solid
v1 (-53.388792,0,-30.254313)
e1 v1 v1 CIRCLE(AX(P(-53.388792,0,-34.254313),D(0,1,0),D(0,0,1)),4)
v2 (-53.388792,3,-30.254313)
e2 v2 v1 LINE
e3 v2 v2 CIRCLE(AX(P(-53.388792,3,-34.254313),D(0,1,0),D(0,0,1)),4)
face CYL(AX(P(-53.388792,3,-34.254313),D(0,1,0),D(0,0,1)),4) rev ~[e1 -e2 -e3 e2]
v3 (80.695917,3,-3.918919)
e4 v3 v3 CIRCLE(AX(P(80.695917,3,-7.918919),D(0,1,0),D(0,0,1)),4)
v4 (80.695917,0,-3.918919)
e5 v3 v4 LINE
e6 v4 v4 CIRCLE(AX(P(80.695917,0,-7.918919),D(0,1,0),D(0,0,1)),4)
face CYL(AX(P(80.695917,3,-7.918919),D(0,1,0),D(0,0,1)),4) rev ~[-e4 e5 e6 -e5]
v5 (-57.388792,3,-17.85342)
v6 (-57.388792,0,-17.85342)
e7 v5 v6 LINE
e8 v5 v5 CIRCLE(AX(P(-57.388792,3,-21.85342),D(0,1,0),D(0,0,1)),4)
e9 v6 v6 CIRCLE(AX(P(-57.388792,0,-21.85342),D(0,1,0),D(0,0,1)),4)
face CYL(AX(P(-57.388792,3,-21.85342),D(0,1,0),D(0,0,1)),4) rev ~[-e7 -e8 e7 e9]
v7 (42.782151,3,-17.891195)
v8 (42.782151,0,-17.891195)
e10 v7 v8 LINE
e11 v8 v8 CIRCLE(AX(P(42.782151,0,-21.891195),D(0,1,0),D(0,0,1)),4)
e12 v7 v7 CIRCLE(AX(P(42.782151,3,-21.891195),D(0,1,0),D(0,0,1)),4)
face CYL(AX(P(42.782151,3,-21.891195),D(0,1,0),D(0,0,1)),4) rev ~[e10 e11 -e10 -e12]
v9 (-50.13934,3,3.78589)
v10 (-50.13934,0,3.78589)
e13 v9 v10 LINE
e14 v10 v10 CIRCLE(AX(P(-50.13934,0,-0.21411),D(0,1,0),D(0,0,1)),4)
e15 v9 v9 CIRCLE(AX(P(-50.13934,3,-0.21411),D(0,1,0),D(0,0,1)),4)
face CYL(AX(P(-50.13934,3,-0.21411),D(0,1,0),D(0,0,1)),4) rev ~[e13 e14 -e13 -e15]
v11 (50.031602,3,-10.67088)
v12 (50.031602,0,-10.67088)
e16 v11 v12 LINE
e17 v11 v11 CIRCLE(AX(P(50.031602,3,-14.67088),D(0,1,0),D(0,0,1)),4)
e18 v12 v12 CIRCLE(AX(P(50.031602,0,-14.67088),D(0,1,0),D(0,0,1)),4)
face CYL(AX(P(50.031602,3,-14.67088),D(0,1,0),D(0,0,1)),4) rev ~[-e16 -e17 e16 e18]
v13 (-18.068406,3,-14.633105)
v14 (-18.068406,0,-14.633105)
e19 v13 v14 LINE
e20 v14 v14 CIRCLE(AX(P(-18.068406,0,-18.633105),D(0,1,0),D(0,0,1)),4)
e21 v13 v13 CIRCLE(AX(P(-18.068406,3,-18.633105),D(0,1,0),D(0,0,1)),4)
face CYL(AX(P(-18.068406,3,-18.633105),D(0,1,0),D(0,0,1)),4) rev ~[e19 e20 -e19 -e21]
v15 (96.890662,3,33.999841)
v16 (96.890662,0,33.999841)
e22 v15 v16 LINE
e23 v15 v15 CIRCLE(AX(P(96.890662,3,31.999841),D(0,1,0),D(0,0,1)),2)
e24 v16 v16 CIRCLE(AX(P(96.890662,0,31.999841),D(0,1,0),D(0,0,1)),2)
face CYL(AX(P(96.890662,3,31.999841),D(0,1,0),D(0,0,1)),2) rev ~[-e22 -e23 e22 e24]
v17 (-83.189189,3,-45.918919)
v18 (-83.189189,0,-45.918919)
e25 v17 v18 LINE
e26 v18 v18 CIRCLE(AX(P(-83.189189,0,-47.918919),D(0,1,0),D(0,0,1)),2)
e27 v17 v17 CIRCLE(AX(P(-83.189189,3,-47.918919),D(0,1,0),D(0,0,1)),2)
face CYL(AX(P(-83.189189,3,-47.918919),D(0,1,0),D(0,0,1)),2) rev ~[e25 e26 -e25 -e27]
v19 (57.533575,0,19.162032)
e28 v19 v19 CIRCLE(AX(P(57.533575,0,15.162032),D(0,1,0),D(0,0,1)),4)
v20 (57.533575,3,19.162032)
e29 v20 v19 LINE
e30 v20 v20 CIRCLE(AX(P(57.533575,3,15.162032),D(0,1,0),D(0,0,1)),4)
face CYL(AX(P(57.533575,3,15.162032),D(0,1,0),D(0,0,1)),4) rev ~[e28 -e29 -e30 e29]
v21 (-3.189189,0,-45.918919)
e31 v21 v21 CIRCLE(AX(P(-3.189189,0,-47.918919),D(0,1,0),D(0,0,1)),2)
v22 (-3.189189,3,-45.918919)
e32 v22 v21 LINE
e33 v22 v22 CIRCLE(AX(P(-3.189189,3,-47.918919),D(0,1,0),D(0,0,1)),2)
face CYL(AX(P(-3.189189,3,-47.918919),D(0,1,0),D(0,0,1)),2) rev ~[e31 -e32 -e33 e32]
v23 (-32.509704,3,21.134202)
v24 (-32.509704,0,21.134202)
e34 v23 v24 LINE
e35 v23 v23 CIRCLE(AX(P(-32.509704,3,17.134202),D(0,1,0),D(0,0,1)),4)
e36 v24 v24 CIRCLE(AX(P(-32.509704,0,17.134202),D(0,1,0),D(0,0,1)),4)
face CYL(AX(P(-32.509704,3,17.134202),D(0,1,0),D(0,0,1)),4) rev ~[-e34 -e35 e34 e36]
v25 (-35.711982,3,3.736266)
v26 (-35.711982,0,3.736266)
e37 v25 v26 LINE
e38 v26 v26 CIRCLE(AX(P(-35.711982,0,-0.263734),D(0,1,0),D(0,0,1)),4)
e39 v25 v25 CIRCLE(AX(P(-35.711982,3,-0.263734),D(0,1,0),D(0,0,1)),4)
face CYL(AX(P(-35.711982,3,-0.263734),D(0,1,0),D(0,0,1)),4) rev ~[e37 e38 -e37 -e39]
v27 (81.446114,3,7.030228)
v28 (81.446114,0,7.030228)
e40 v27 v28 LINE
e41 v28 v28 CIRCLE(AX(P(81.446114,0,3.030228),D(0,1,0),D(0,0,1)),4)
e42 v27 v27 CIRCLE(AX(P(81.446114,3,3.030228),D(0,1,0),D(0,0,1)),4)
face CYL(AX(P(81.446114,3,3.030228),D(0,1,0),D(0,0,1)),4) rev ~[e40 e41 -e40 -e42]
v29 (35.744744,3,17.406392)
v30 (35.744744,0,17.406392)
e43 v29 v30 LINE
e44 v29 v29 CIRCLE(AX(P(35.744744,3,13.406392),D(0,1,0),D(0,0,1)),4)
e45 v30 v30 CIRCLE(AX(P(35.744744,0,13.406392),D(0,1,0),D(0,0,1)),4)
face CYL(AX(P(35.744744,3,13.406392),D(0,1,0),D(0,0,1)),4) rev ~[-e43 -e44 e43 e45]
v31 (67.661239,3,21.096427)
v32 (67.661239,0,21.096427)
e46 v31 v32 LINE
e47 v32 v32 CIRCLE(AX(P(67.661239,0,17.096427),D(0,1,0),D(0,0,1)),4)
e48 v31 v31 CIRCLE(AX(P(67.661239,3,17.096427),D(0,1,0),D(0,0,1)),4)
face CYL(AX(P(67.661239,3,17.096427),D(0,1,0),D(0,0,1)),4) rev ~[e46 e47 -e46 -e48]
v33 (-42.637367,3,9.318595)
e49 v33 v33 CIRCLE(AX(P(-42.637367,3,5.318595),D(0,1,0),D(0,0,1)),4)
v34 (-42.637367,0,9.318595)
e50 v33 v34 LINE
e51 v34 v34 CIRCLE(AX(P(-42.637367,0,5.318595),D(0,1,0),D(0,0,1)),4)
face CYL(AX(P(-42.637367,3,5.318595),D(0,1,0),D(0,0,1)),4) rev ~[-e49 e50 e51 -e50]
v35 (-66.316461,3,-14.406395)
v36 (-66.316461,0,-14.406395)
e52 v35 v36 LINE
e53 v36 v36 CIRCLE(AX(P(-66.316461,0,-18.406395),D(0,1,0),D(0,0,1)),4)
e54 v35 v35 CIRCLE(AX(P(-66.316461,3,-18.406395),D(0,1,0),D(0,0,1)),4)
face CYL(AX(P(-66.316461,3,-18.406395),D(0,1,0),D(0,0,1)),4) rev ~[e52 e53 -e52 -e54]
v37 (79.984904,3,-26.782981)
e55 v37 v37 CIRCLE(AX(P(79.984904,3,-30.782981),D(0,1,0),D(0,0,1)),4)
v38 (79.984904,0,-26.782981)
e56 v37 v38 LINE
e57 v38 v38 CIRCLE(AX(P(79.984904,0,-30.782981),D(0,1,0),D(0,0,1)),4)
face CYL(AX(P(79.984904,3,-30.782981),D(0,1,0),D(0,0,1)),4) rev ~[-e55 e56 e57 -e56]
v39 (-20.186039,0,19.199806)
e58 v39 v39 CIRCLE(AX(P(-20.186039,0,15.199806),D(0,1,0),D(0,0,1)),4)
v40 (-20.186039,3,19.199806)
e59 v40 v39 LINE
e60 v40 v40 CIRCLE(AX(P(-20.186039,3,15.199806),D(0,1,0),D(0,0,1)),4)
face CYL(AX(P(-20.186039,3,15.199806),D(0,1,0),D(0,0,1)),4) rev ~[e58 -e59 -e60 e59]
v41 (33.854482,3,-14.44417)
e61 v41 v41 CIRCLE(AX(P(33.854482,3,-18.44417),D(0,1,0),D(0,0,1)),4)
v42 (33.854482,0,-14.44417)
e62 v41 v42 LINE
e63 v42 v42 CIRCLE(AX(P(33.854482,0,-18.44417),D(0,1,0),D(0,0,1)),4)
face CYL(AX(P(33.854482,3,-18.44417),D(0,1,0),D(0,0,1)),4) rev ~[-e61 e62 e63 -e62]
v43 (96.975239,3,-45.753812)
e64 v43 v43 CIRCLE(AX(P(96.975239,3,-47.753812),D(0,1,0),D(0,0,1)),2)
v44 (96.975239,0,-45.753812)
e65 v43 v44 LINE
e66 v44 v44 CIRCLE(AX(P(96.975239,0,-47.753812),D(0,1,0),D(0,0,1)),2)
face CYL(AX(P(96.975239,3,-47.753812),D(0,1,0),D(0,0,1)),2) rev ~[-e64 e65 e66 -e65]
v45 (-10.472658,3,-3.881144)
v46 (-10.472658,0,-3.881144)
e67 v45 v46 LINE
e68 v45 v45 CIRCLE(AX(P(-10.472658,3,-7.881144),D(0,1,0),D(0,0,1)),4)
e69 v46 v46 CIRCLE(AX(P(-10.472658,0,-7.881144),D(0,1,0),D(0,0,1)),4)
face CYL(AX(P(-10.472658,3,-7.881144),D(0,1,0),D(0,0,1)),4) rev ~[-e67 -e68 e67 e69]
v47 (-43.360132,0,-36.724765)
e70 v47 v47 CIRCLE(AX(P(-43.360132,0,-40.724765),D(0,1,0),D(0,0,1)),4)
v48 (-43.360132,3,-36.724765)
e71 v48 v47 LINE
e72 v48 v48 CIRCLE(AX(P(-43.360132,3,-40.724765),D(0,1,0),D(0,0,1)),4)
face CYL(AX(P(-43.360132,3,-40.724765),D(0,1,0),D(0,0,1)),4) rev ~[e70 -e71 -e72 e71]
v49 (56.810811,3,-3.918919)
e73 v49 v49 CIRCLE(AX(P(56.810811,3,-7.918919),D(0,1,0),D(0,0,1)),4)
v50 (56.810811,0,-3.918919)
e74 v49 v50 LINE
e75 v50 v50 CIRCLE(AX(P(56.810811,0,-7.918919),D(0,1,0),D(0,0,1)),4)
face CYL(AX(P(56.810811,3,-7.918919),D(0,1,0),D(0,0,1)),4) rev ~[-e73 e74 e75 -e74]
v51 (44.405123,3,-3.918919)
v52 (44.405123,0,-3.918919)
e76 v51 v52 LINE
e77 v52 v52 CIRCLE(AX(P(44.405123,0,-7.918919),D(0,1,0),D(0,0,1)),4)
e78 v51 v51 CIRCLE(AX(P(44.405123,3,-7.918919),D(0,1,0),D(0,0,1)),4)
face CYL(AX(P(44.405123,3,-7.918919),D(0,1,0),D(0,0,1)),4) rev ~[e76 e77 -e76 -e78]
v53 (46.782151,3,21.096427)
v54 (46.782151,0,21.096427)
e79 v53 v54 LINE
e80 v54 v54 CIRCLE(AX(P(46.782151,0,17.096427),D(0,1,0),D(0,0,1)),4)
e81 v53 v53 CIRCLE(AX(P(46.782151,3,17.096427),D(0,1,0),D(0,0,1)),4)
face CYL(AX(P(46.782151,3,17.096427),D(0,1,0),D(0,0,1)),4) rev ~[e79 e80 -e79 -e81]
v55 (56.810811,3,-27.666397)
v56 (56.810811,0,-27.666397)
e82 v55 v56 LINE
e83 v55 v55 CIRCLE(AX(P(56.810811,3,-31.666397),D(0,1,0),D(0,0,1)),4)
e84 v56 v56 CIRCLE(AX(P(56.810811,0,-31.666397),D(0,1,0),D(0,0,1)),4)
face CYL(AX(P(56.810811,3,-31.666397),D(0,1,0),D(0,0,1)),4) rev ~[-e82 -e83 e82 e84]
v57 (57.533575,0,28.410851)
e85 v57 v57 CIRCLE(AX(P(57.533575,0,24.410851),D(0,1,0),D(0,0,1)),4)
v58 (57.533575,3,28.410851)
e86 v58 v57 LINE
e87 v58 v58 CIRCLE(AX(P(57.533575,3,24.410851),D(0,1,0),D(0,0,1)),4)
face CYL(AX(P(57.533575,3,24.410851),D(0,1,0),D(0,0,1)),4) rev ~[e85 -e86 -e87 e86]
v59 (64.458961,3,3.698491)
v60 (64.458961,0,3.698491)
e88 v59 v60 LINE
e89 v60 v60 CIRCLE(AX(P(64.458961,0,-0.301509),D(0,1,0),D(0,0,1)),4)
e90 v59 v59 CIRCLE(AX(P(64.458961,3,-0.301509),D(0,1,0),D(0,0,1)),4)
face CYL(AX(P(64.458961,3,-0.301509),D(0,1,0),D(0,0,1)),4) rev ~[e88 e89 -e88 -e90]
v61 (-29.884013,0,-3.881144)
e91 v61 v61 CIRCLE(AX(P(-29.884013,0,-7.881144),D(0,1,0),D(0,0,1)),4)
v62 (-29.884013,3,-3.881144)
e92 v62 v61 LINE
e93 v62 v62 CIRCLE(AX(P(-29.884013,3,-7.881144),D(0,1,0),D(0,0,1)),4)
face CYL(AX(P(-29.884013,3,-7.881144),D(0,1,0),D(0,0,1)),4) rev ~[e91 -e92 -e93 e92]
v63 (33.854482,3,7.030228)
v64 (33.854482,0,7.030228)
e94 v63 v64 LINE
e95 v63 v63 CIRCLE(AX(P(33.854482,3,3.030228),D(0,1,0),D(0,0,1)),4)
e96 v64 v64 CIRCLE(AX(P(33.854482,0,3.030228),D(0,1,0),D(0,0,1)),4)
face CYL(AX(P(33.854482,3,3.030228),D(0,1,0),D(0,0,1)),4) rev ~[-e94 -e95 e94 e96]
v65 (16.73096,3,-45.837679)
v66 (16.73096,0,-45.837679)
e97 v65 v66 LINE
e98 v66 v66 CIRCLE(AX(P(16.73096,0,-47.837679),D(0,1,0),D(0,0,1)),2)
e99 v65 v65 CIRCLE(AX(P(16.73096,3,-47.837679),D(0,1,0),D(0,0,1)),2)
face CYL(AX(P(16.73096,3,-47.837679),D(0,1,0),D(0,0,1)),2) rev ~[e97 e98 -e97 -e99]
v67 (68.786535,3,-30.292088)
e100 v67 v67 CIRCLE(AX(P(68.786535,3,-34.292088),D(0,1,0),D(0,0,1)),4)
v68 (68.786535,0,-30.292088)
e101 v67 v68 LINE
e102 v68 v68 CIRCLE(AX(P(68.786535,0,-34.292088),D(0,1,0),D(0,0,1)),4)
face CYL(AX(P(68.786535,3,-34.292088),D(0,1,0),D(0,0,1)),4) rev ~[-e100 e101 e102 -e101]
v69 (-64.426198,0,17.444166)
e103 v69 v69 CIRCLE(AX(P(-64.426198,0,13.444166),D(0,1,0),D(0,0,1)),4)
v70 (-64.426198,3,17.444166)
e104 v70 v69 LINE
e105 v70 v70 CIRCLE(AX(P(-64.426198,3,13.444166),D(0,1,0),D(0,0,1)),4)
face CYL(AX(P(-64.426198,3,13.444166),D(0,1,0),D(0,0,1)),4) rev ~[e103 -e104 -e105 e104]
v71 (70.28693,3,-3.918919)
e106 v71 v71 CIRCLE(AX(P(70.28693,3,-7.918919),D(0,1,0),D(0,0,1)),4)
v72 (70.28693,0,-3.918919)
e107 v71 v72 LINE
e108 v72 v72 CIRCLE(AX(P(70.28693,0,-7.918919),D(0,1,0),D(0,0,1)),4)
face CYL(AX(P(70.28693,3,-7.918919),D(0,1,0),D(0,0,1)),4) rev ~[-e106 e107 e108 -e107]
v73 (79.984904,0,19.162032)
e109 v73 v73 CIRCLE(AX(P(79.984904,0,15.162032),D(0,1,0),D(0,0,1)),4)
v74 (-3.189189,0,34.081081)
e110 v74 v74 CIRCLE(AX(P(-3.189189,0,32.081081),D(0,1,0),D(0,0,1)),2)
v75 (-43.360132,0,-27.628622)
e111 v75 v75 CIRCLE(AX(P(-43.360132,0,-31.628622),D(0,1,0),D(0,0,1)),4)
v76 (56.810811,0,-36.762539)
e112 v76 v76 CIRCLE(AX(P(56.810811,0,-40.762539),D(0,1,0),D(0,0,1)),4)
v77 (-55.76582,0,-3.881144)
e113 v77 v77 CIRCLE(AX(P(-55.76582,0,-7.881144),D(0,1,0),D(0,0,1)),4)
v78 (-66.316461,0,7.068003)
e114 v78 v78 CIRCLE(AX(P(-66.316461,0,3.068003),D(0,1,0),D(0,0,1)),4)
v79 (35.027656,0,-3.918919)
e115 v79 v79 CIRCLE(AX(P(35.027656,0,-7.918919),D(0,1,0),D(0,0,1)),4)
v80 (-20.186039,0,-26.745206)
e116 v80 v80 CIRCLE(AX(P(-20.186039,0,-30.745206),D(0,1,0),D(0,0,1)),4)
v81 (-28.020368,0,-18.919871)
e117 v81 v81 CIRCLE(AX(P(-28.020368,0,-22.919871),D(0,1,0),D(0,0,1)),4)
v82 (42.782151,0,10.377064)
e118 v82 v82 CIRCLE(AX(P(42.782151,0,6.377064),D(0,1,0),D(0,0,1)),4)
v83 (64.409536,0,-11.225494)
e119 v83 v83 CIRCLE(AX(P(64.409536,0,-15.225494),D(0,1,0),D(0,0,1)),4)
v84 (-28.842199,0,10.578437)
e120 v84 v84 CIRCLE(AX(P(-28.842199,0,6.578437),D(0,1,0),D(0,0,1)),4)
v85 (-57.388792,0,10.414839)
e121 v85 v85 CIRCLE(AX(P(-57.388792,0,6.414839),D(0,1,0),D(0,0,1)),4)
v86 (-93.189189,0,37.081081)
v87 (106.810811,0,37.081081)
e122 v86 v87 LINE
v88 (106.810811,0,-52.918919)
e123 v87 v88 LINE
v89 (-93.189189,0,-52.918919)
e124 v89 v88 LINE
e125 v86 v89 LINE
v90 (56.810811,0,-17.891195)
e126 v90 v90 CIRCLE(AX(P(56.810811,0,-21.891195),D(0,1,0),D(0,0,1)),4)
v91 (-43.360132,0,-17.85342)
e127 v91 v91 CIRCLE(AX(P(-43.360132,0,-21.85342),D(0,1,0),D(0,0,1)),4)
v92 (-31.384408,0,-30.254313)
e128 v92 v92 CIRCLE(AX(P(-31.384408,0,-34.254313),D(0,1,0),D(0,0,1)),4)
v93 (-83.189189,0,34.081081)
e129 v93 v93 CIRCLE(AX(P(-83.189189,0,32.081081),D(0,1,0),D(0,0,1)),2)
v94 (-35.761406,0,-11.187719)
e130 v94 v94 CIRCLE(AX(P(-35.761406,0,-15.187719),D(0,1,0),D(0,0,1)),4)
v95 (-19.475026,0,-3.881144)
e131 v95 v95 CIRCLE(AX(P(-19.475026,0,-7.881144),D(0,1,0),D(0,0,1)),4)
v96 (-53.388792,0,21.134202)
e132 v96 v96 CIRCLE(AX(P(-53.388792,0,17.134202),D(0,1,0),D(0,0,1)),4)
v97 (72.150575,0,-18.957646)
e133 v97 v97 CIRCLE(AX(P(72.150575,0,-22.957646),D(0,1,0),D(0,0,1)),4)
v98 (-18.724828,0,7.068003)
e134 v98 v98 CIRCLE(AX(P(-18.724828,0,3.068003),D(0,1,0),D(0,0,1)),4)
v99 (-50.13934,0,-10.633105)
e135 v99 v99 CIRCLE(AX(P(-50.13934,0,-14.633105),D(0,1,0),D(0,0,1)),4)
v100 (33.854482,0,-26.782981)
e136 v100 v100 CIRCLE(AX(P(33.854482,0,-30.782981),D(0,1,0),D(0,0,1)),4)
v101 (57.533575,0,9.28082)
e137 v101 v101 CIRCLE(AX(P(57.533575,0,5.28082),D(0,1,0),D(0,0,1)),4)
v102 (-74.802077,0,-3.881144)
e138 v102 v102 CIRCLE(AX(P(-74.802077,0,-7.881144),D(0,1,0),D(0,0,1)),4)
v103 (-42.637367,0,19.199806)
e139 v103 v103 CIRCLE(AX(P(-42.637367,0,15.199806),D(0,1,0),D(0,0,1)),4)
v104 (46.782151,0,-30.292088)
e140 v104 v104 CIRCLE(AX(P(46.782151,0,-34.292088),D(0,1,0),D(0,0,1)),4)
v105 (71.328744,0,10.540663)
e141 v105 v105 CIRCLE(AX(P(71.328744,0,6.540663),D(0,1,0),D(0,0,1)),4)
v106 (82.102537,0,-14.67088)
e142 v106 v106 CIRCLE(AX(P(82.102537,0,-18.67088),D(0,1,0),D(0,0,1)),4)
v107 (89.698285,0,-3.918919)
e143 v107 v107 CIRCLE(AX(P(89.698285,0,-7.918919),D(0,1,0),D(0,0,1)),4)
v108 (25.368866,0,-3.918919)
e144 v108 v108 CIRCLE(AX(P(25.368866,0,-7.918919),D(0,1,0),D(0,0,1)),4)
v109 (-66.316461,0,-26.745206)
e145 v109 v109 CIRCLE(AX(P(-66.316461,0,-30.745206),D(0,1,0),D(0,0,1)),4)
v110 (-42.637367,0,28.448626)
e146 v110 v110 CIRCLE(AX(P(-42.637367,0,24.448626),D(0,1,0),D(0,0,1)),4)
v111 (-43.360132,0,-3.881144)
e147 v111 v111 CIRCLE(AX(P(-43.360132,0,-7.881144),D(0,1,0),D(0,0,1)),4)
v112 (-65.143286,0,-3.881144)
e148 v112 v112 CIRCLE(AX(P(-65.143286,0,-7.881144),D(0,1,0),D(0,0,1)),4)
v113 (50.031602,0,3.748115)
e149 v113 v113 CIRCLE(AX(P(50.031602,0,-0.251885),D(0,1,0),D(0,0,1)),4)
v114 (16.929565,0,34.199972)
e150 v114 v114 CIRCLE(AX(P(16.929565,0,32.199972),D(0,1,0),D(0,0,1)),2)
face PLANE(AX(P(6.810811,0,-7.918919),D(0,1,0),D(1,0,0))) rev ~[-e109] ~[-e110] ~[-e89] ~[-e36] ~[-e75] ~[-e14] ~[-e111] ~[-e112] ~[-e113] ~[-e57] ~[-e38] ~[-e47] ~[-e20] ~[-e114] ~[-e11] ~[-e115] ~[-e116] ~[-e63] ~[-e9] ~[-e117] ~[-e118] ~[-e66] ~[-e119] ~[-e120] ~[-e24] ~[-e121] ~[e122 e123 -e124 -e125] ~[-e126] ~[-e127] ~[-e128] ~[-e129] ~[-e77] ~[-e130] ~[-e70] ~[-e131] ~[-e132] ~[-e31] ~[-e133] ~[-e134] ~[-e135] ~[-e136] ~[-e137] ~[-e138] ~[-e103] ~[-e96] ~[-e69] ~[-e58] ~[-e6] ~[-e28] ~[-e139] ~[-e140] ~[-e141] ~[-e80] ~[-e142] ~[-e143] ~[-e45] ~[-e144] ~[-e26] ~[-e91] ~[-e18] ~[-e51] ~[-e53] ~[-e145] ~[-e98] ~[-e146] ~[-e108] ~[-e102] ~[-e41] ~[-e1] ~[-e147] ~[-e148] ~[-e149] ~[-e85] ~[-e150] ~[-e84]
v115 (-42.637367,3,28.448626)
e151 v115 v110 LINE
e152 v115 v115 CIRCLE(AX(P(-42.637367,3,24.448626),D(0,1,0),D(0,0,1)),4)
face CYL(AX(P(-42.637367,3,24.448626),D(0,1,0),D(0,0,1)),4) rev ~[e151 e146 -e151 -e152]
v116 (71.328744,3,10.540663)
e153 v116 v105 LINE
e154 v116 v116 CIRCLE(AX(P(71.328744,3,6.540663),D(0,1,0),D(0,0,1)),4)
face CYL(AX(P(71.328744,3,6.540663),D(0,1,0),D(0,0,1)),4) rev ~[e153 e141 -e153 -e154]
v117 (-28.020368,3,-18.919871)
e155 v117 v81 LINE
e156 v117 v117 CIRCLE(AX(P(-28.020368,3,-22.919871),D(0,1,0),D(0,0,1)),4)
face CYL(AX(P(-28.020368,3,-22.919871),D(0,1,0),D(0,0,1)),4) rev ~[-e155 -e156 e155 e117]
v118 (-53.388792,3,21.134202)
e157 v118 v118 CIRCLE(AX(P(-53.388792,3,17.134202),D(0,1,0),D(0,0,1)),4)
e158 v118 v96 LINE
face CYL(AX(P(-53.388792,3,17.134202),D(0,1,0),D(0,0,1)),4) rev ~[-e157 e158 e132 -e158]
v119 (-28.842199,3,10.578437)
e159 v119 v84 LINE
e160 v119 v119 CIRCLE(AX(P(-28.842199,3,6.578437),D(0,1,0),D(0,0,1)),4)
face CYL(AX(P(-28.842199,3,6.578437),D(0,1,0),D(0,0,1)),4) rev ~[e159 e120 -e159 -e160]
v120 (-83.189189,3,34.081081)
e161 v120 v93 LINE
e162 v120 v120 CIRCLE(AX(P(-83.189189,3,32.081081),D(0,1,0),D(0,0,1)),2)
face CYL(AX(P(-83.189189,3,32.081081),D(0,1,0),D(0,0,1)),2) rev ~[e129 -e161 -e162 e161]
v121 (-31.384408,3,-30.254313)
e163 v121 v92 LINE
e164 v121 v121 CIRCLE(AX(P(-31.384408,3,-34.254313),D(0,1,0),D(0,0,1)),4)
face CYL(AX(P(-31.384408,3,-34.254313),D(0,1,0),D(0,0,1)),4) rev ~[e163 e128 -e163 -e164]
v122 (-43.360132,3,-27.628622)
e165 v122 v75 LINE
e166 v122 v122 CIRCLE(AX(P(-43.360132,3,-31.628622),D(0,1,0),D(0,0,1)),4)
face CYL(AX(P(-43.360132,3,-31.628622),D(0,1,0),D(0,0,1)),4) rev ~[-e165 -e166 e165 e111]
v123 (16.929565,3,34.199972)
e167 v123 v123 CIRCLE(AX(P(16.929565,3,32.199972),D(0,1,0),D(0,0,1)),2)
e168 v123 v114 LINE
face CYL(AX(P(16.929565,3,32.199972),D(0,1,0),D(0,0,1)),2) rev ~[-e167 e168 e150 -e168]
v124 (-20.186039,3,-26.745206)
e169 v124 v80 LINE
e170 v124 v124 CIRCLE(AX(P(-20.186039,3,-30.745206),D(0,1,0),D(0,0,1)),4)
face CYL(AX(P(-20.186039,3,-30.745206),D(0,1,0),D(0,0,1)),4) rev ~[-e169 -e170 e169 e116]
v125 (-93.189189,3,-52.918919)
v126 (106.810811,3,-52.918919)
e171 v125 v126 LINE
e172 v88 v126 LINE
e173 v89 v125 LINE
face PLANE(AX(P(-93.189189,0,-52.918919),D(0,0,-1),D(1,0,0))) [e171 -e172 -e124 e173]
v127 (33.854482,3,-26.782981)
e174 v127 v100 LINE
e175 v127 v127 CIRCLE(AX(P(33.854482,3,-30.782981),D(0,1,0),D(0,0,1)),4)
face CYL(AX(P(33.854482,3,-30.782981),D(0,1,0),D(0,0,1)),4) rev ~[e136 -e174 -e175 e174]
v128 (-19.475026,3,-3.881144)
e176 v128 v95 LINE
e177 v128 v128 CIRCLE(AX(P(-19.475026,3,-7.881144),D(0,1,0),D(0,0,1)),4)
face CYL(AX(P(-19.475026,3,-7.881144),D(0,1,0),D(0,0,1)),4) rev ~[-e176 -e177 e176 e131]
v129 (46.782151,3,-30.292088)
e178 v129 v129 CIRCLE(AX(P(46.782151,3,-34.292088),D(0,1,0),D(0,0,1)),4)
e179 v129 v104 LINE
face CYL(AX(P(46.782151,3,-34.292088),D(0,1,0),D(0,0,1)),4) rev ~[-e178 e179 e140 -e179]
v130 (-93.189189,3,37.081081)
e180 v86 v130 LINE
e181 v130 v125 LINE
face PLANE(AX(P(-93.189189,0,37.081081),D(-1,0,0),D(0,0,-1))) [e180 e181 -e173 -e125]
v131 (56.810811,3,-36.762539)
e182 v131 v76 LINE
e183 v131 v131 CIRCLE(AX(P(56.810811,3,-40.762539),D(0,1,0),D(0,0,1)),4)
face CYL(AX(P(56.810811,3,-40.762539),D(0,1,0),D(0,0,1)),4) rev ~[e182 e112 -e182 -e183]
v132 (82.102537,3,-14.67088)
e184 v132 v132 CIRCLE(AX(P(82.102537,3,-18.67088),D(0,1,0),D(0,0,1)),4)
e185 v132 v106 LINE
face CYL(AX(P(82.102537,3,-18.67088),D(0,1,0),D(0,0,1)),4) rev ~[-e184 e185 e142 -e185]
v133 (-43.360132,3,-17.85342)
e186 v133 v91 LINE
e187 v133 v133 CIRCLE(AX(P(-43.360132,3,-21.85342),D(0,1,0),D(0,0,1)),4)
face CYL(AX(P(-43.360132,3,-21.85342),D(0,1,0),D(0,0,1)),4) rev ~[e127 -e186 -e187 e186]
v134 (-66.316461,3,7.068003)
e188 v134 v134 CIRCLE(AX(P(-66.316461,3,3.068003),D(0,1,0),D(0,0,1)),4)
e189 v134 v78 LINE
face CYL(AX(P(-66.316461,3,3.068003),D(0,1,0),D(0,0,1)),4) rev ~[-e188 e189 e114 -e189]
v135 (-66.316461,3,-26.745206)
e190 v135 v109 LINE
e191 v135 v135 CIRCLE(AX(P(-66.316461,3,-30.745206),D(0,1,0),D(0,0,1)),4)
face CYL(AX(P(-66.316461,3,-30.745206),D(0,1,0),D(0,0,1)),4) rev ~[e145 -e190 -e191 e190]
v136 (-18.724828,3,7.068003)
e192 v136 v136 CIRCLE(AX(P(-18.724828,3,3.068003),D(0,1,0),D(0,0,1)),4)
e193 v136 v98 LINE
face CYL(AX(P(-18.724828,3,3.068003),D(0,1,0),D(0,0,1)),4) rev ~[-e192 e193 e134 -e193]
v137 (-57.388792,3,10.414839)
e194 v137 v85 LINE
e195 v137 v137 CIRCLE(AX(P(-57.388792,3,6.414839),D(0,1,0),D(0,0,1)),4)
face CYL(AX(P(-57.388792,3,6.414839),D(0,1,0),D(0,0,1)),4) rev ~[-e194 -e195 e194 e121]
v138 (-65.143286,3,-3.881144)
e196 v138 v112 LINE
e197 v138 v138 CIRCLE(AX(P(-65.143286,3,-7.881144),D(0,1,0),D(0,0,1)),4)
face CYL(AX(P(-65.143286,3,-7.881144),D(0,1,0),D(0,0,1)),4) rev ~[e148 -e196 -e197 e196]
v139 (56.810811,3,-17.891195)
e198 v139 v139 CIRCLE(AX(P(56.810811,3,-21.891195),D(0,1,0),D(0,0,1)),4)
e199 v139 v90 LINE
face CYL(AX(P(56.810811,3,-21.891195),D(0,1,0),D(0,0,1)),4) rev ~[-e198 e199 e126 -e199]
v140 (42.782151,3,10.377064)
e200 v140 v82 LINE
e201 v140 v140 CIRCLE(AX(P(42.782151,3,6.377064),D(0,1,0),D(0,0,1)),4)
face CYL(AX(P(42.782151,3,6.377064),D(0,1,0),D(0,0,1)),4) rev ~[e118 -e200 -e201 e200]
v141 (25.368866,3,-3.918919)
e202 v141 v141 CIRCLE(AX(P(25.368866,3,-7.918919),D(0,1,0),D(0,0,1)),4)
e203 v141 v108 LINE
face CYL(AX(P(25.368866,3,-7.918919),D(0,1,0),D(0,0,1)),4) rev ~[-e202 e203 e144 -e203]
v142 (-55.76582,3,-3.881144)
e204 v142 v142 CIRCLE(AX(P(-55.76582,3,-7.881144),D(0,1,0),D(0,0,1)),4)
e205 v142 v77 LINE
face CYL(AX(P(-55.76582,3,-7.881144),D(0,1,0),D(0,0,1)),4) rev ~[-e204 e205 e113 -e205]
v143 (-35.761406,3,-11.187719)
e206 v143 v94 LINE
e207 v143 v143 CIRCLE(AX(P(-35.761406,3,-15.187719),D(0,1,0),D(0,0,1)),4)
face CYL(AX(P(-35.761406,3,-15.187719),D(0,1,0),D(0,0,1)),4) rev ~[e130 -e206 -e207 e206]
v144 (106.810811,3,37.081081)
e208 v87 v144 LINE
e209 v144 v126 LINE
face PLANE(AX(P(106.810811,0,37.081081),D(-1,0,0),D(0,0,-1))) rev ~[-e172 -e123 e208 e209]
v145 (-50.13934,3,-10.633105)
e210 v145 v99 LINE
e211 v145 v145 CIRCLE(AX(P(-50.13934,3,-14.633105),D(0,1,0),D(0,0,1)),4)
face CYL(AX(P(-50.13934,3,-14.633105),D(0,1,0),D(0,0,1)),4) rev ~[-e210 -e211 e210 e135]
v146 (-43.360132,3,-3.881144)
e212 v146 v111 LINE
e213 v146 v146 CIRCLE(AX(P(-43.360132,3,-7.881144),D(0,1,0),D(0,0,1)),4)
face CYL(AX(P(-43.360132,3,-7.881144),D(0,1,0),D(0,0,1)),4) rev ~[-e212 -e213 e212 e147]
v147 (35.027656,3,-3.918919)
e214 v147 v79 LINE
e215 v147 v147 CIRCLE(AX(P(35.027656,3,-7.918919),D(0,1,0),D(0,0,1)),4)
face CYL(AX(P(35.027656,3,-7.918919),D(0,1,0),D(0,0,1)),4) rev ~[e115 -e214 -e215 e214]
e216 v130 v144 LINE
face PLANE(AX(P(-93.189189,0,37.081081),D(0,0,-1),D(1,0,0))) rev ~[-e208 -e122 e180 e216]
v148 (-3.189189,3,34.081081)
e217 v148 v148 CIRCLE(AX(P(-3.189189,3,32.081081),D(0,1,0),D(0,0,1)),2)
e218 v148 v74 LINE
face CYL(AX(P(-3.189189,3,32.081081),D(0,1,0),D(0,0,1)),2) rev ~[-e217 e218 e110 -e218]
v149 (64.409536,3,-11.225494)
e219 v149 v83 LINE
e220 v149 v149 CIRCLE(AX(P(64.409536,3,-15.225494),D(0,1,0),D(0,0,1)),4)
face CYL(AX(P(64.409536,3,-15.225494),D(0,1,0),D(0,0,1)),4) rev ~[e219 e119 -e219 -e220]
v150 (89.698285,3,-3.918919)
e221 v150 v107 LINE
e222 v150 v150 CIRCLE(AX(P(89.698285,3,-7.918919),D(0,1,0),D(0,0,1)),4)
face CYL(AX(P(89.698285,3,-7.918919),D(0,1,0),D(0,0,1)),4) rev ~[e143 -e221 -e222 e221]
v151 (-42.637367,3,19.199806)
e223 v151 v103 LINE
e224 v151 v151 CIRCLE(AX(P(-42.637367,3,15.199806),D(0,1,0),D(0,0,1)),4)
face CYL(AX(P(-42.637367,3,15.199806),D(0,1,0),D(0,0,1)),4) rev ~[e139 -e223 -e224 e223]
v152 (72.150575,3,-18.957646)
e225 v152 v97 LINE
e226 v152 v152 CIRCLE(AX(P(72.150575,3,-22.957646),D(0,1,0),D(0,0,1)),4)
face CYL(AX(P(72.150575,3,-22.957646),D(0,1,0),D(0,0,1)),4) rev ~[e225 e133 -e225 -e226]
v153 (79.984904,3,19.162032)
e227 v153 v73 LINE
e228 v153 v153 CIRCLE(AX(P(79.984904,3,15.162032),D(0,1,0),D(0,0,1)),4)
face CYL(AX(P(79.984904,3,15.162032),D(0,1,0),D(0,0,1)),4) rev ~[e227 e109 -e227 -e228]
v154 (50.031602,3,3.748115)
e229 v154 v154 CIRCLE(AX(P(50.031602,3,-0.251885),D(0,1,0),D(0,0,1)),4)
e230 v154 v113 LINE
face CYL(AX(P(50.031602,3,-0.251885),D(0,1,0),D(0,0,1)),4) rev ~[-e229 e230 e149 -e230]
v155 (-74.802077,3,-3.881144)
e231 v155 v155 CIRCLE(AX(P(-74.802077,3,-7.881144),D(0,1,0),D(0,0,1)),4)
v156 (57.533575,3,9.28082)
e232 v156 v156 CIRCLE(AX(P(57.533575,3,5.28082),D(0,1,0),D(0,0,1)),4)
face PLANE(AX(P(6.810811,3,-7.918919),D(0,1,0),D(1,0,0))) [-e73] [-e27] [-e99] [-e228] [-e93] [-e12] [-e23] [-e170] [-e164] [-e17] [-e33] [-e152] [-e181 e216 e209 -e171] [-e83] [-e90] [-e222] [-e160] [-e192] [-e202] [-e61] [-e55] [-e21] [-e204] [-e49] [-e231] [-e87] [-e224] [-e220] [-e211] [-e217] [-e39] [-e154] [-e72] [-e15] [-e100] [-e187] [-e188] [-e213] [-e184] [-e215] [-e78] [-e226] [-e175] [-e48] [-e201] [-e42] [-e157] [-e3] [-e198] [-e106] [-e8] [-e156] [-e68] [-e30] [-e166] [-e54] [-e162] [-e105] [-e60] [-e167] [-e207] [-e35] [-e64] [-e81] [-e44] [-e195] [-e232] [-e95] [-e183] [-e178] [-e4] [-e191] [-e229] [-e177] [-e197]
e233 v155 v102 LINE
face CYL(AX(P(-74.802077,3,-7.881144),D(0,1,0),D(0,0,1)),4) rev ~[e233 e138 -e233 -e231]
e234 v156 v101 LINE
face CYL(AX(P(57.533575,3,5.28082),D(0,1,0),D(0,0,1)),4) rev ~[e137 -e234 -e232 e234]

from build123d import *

# Parameters (mm, degrees)
SKETCH1_W           = 200
SKETCH1_H           = 90
BOSS_EXTRUDE1_DEPTH = 3
SKETCH2_R           = 2
SKETCH2_R_2         = 4
CUT_EXTRUDE1_DEPTH  = 3


with BuildPart() as part:
    # Sketch1 → Boss-Extrude1 (new body)
    with BuildSketch(Plane(origin=(0, 0, 0), x_dir=(1, 0, 0), z_dir=(0, 1, 0))):
        with Locations((6.810810811, 7.918918919)):
            Rectangle(SKETCH1_W, SKETCH1_H)
    extrude(amount=BOSS_EXTRUDE1_DEPTH)

    # Sketch2 → Cut-Extrude1 (cut)
    with BuildSketch(Plane(origin=(0, 3, 0), x_dir=(1, 0, 0), z_dir=(0, 1, 0))):
        with Locations(Location((-83.189189189, 47.918918919, 0), (0, 0, 270))):
            Circle(SKETCH2_R)
        with Locations(Location((-83.189189189, -32.081081081, 0), (0, 0, 270))):
            Circle(SKETCH2_R)
        with Locations(Location((-3.189189189, 47.918918919, 0), (0, 0, 270))):
            Circle(SKETCH2_R)
        with Locations(Location((-3.189189189, -32.081081081, 0), (0, 0, 270))):
            Circle(SKETCH2_R)
        with Locations(Location((96.97523931, 47.753811706, 0), (0, 0, 270))):
            Circle(SKETCH2_R)
        with Locations(Location((96.890661701, -31.999841307, 0), (0, 0, 270))):
            Circle(SKETCH2_R)
        with Locations(Location((16.73095992, 47.837679145, 0), (0, 0, 270))):
            Circle(SKETCH2_R)
        with Locations(Location((16.92956487, -32.199971625, 0), (0, 0, 270))):
            Circle(SKETCH2_R)
        with Locations(Location((64.409536285, 15.225493569, 0), (0, 0, 270))):
            Circle(SKETCH2_R_2)
        with Locations(Location((64.458960542, 0.301508961, 0), (0, 0, 270))):
            Circle(SKETCH2_R_2)
        with Locations(Location((72.150575188, 22.957645887, 0), (0, 0, 270))):
            Circle(SKETCH2_R_2)
        with Locations(Location((79.984903702, 30.782980722, 0), (0, 0, 270))):
            Circle(SKETCH2_R_2)
        with Locations(Location((42.782150533, -6.377064303, 0), (0, 0, 270))):
            Circle(SKETCH2_R_2)
        with Locations(Location((35.744744462, -13.406391548, 0), (0, 0, 270))):
            Circle(SKETCH2_R_2)
        with Locations(Location((50.031602385, 0.251885254, 0), (0, 0, 270))):
            Circle(SKETCH2_R_2)
        with Locations(Location((71.328743505, -6.540662674, 0), (0, 0, 270))):
            Circle(SKETCH2_R_2)
        with Locations(Location((56.810810811, 7.918918919, 0), (0, 0, 270))):
            Circle(SKETCH2_R_2)
        with Locations(Location((79.984903702, -15.162031659, 0), (0, 0, 270))):
            Circle(SKETCH2_R_2)
        with Locations(Location((50.031602385, 14.670880058, 0), (0, 0, 270))):
            Circle(SKETCH2_R_2)
        with Locations(Location((42.782150533, 21.891194601, 0), (0, 0, 270))):
            Circle(SKETCH2_R_2)
        with Locations(Location((33.854481941, 30.782980722, 0), (0, 0, 270))):
            Circle(SKETCH2_R_2)
        with Locations(Location((70.286929504, 7.918918919, 0), (0, 0, 270))):
            Circle(SKETCH2_R_2)
        with Locations(Location((80.695917052, 7.918918919, 0), (0, 0, 270))):
            Circle(SKETCH2_R_2)
        with Locations(Location((89.69828466, 7.918918919, 0), (0, 0, 270))):
            Circle(SKETCH2_R_2)
        with Locations(Location((35.027656371, 7.918918919, 0), (0, 0, 270))):
            Circle(SKETCH2_R_2)
        with Locations(Location((44.40512263, 7.918918919, 0), (0, 0, 270))):
            Circle(SKETCH2_R_2)
        with Locations(Location((25.368866125, 7.918918919, 0), (0, 0, 270))):
            Circle(SKETCH2_R_2)
        with Locations(Location((57.533575392, -5.280819839, 0), (0, 0, 270))):
            Circle(SKETCH2_R_2)
        with Locations(Location((57.533575392, -15.162031659, 0), (0, 0, 270))):
            Circle(SKETCH2_R_2)
        with Locations(Location((57.533575392, -24.410851007, 0), (0, 0, 270))):
            Circle(SKETCH2_R_2)
        with Locations(Location((56.810810811, 21.891194601, 0), (0, 0, 270))):
            Circle(SKETCH2_R_2)
        with Locations(Location((56.810810811, 31.666397221, 0), (0, 0, 270))):
            Circle(SKETCH2_R_2)
        with Locations(Location((56.810810811, 40.762539492, 0), (0, 0, 270))):
            Circle(SKETCH2_R_2)
        with Locations(Location((33.854481941, 18.444169796, 0), (0, 0, 270))):
            Circle(SKETCH2_R_2)
        with Locations(Location((46.782150533, 34.292087773, 0), (0, 0, 270))):
            Circle(SKETCH2_R_2)
        with Locations(Location((68.786534903, 34.292087773, 0), (0, 0, 270))):
            Circle(SKETCH2_R_2)
        with Locations(Location((82.102536991, 18.670880058, 0), (0, 0, 270))):
            Circle(SKETCH2_R_2)
        with Locations(Location((81.446114352, -3.030227937, 0), (0, 0, 270))):
            Circle(SKETCH2_R_2)
        with Locations(Location((67.661238952, -17.096427325, 0), (0, 0, 270))):
            Circle(SKETCH2_R_2)
        with Locations(Location((46.782150533, -17.096427325, 0), (0, 0, 270))):
            Circle(SKETCH2_R_2)
        with Locations(Location((33.854481941, -3.030227937, 0), (0, 0, 270))):
            Circle(SKETCH2_R_2)
        with Locations(Location((-35.761406417, 15.18771879, 0), (0, 0, 270))):
            Circle(SKETCH2_R_2)
        with Locations(Location((-35.71198216, 0.263734182, 0), (0, 0, 270))):
            Circle(SKETCH2_R_2)
        with Locations(Location((-28.020367515, 22.919871108, 0), (0, 0, 270))):
            Circle(SKETCH2_R_2)
        with Locations(Location((-20.186039001, 30.745205943, 0), (0, 0, 270))):
            Circle(SKETCH2_R_2)
        with Locations(Location((-57.388792169, -6.414839082, 0), (0, 0, 270))):
            Circle(SKETCH2_R_2)
        with Locations(Location((-64.42619824, -13.444166327, 0), (0, 0, 270))):
            Circle(SKETCH2_R_2)
        with Locations(Location((-50.139340317, 0.214110475, 0), (0, 0, 270))):
            Circle(SKETCH2_R_2)
        with Locations(Location((-28.842199198, -6.578437453, 0), (0, 0, 270))):
            Circle(SKETCH2_R_2)
        with Locations(Location((-43.360131891, 7.88114414, 0), (0, 0, 270))):
            Circle(SKETCH2_R_2)
        with Locations(Location((-20.186039001, -15.199806438, 0), (0, 0, 270))):
            Circle(SKETCH2_R_2)
        with Locations(Location((-50.139340317, 14.633105278, 0), (0, 0, 270))):
            Circle(SKETCH2_R_2)
        with Locations(Location((-57.388792169, 21.853419822, 0), (0, 0, 270))):
            Circle(SKETCH2_R_2)
        with Locations(Location((-66.316460761, 30.745205943, 0), (0, 0, 270))):
            Circle(SKETCH2_R_2)
        with Locations(Location((-29.884013198, 7.88114414, 0), (0, 0, 270))):
            Circle(SKETCH2_R_2)
        with Locations(Location((-19.475025651, 7.88114414, 0), (0, 0, 270))):
            Circle(SKETCH2_R_2)
        with Locations(Location((-10.472658042, 7.88114414, 0), (0, 0, 270))):
            Circle(SKETCH2_R_2)
        with Locations(Location((-65.143286331, 7.88114414, 0), (0, 0, 270))):
            Circle(SKETCH2_R_2)
        with Locations(Location((-55.765820072, 7.88114414, 0), (0, 0, 270))):
            Circle(SKETCH2_R_2)
        with Locations(Location((-74.802076578, 7.88114414, 0), (0, 0, 270))):
            Circle(SKETCH2_R_2)
        with Locations(Location((-42.63736731, -5.318594618, 0), (0, 0, 270))):
            Circle(SKETCH2_R_2)
        with Locations(Location((-42.63736731, -15.199806438, 0), (0, 0, 270))):
            Circle(SKETCH2_R_2)
        with Locations(Location((-42.63736731, -24.448625786, 0), (0, 0, 270))):
            Circle(SKETCH2_R_2)
        with Locations(Location((-43.360131891, 21.853419822, 0), (0, 0, 270))):
            Circle(SKETCH2_R_2)
        with Locations(Location((-43.360131891, 31.628622442, 0), (0, 0, 270))):
            Circle(SKETCH2_R_2)
        with Locations(Location((-43.360131891, 40.724764713, 0), (0, 0, 270))):
            Circle(SKETCH2_R_2)
        with Locations(Location((-66.316460761, 18.406395017, 0), (0, 0, 270))):
            Circle(SKETCH2_R_2)
        with Locations(Location((-53.388792169, 34.254312994, 0), (0, 0, 270))):
            Circle(SKETCH2_R_2)
        with Locations(Location((-31.384407799, 34.254312994, 0), (0, 0, 270))):
            Circle(SKETCH2_R_2)
        with Locations(Location((-18.068405712, 18.633105278, 0), (0, 0, 270))):
            Circle(SKETCH2_R_2)
        with Locations(Location((-18.72482835, -3.068002716, 0), (0, 0, 270))):
            Circle(SKETCH2_R_2)
        with Locations(Location((-32.50970375, -17.134202104, 0), (0, 0, 270))):
            Circle(SKETCH2_R_2)
        with Locations(Location((-53.388792169, -17.134202104, 0), (0, 0, 270))):
            Circle(SKETCH2_R_2)
        with Locations(Location((-66.316460761, -3.068002716, 0), (0, 0, 270))):
            Circle(SKETCH2_R_2)
    extrude(amount=-CUT_EXTRUDE1_DEPTH, mode=Mode.SUBTRACT)


solid = part.part
